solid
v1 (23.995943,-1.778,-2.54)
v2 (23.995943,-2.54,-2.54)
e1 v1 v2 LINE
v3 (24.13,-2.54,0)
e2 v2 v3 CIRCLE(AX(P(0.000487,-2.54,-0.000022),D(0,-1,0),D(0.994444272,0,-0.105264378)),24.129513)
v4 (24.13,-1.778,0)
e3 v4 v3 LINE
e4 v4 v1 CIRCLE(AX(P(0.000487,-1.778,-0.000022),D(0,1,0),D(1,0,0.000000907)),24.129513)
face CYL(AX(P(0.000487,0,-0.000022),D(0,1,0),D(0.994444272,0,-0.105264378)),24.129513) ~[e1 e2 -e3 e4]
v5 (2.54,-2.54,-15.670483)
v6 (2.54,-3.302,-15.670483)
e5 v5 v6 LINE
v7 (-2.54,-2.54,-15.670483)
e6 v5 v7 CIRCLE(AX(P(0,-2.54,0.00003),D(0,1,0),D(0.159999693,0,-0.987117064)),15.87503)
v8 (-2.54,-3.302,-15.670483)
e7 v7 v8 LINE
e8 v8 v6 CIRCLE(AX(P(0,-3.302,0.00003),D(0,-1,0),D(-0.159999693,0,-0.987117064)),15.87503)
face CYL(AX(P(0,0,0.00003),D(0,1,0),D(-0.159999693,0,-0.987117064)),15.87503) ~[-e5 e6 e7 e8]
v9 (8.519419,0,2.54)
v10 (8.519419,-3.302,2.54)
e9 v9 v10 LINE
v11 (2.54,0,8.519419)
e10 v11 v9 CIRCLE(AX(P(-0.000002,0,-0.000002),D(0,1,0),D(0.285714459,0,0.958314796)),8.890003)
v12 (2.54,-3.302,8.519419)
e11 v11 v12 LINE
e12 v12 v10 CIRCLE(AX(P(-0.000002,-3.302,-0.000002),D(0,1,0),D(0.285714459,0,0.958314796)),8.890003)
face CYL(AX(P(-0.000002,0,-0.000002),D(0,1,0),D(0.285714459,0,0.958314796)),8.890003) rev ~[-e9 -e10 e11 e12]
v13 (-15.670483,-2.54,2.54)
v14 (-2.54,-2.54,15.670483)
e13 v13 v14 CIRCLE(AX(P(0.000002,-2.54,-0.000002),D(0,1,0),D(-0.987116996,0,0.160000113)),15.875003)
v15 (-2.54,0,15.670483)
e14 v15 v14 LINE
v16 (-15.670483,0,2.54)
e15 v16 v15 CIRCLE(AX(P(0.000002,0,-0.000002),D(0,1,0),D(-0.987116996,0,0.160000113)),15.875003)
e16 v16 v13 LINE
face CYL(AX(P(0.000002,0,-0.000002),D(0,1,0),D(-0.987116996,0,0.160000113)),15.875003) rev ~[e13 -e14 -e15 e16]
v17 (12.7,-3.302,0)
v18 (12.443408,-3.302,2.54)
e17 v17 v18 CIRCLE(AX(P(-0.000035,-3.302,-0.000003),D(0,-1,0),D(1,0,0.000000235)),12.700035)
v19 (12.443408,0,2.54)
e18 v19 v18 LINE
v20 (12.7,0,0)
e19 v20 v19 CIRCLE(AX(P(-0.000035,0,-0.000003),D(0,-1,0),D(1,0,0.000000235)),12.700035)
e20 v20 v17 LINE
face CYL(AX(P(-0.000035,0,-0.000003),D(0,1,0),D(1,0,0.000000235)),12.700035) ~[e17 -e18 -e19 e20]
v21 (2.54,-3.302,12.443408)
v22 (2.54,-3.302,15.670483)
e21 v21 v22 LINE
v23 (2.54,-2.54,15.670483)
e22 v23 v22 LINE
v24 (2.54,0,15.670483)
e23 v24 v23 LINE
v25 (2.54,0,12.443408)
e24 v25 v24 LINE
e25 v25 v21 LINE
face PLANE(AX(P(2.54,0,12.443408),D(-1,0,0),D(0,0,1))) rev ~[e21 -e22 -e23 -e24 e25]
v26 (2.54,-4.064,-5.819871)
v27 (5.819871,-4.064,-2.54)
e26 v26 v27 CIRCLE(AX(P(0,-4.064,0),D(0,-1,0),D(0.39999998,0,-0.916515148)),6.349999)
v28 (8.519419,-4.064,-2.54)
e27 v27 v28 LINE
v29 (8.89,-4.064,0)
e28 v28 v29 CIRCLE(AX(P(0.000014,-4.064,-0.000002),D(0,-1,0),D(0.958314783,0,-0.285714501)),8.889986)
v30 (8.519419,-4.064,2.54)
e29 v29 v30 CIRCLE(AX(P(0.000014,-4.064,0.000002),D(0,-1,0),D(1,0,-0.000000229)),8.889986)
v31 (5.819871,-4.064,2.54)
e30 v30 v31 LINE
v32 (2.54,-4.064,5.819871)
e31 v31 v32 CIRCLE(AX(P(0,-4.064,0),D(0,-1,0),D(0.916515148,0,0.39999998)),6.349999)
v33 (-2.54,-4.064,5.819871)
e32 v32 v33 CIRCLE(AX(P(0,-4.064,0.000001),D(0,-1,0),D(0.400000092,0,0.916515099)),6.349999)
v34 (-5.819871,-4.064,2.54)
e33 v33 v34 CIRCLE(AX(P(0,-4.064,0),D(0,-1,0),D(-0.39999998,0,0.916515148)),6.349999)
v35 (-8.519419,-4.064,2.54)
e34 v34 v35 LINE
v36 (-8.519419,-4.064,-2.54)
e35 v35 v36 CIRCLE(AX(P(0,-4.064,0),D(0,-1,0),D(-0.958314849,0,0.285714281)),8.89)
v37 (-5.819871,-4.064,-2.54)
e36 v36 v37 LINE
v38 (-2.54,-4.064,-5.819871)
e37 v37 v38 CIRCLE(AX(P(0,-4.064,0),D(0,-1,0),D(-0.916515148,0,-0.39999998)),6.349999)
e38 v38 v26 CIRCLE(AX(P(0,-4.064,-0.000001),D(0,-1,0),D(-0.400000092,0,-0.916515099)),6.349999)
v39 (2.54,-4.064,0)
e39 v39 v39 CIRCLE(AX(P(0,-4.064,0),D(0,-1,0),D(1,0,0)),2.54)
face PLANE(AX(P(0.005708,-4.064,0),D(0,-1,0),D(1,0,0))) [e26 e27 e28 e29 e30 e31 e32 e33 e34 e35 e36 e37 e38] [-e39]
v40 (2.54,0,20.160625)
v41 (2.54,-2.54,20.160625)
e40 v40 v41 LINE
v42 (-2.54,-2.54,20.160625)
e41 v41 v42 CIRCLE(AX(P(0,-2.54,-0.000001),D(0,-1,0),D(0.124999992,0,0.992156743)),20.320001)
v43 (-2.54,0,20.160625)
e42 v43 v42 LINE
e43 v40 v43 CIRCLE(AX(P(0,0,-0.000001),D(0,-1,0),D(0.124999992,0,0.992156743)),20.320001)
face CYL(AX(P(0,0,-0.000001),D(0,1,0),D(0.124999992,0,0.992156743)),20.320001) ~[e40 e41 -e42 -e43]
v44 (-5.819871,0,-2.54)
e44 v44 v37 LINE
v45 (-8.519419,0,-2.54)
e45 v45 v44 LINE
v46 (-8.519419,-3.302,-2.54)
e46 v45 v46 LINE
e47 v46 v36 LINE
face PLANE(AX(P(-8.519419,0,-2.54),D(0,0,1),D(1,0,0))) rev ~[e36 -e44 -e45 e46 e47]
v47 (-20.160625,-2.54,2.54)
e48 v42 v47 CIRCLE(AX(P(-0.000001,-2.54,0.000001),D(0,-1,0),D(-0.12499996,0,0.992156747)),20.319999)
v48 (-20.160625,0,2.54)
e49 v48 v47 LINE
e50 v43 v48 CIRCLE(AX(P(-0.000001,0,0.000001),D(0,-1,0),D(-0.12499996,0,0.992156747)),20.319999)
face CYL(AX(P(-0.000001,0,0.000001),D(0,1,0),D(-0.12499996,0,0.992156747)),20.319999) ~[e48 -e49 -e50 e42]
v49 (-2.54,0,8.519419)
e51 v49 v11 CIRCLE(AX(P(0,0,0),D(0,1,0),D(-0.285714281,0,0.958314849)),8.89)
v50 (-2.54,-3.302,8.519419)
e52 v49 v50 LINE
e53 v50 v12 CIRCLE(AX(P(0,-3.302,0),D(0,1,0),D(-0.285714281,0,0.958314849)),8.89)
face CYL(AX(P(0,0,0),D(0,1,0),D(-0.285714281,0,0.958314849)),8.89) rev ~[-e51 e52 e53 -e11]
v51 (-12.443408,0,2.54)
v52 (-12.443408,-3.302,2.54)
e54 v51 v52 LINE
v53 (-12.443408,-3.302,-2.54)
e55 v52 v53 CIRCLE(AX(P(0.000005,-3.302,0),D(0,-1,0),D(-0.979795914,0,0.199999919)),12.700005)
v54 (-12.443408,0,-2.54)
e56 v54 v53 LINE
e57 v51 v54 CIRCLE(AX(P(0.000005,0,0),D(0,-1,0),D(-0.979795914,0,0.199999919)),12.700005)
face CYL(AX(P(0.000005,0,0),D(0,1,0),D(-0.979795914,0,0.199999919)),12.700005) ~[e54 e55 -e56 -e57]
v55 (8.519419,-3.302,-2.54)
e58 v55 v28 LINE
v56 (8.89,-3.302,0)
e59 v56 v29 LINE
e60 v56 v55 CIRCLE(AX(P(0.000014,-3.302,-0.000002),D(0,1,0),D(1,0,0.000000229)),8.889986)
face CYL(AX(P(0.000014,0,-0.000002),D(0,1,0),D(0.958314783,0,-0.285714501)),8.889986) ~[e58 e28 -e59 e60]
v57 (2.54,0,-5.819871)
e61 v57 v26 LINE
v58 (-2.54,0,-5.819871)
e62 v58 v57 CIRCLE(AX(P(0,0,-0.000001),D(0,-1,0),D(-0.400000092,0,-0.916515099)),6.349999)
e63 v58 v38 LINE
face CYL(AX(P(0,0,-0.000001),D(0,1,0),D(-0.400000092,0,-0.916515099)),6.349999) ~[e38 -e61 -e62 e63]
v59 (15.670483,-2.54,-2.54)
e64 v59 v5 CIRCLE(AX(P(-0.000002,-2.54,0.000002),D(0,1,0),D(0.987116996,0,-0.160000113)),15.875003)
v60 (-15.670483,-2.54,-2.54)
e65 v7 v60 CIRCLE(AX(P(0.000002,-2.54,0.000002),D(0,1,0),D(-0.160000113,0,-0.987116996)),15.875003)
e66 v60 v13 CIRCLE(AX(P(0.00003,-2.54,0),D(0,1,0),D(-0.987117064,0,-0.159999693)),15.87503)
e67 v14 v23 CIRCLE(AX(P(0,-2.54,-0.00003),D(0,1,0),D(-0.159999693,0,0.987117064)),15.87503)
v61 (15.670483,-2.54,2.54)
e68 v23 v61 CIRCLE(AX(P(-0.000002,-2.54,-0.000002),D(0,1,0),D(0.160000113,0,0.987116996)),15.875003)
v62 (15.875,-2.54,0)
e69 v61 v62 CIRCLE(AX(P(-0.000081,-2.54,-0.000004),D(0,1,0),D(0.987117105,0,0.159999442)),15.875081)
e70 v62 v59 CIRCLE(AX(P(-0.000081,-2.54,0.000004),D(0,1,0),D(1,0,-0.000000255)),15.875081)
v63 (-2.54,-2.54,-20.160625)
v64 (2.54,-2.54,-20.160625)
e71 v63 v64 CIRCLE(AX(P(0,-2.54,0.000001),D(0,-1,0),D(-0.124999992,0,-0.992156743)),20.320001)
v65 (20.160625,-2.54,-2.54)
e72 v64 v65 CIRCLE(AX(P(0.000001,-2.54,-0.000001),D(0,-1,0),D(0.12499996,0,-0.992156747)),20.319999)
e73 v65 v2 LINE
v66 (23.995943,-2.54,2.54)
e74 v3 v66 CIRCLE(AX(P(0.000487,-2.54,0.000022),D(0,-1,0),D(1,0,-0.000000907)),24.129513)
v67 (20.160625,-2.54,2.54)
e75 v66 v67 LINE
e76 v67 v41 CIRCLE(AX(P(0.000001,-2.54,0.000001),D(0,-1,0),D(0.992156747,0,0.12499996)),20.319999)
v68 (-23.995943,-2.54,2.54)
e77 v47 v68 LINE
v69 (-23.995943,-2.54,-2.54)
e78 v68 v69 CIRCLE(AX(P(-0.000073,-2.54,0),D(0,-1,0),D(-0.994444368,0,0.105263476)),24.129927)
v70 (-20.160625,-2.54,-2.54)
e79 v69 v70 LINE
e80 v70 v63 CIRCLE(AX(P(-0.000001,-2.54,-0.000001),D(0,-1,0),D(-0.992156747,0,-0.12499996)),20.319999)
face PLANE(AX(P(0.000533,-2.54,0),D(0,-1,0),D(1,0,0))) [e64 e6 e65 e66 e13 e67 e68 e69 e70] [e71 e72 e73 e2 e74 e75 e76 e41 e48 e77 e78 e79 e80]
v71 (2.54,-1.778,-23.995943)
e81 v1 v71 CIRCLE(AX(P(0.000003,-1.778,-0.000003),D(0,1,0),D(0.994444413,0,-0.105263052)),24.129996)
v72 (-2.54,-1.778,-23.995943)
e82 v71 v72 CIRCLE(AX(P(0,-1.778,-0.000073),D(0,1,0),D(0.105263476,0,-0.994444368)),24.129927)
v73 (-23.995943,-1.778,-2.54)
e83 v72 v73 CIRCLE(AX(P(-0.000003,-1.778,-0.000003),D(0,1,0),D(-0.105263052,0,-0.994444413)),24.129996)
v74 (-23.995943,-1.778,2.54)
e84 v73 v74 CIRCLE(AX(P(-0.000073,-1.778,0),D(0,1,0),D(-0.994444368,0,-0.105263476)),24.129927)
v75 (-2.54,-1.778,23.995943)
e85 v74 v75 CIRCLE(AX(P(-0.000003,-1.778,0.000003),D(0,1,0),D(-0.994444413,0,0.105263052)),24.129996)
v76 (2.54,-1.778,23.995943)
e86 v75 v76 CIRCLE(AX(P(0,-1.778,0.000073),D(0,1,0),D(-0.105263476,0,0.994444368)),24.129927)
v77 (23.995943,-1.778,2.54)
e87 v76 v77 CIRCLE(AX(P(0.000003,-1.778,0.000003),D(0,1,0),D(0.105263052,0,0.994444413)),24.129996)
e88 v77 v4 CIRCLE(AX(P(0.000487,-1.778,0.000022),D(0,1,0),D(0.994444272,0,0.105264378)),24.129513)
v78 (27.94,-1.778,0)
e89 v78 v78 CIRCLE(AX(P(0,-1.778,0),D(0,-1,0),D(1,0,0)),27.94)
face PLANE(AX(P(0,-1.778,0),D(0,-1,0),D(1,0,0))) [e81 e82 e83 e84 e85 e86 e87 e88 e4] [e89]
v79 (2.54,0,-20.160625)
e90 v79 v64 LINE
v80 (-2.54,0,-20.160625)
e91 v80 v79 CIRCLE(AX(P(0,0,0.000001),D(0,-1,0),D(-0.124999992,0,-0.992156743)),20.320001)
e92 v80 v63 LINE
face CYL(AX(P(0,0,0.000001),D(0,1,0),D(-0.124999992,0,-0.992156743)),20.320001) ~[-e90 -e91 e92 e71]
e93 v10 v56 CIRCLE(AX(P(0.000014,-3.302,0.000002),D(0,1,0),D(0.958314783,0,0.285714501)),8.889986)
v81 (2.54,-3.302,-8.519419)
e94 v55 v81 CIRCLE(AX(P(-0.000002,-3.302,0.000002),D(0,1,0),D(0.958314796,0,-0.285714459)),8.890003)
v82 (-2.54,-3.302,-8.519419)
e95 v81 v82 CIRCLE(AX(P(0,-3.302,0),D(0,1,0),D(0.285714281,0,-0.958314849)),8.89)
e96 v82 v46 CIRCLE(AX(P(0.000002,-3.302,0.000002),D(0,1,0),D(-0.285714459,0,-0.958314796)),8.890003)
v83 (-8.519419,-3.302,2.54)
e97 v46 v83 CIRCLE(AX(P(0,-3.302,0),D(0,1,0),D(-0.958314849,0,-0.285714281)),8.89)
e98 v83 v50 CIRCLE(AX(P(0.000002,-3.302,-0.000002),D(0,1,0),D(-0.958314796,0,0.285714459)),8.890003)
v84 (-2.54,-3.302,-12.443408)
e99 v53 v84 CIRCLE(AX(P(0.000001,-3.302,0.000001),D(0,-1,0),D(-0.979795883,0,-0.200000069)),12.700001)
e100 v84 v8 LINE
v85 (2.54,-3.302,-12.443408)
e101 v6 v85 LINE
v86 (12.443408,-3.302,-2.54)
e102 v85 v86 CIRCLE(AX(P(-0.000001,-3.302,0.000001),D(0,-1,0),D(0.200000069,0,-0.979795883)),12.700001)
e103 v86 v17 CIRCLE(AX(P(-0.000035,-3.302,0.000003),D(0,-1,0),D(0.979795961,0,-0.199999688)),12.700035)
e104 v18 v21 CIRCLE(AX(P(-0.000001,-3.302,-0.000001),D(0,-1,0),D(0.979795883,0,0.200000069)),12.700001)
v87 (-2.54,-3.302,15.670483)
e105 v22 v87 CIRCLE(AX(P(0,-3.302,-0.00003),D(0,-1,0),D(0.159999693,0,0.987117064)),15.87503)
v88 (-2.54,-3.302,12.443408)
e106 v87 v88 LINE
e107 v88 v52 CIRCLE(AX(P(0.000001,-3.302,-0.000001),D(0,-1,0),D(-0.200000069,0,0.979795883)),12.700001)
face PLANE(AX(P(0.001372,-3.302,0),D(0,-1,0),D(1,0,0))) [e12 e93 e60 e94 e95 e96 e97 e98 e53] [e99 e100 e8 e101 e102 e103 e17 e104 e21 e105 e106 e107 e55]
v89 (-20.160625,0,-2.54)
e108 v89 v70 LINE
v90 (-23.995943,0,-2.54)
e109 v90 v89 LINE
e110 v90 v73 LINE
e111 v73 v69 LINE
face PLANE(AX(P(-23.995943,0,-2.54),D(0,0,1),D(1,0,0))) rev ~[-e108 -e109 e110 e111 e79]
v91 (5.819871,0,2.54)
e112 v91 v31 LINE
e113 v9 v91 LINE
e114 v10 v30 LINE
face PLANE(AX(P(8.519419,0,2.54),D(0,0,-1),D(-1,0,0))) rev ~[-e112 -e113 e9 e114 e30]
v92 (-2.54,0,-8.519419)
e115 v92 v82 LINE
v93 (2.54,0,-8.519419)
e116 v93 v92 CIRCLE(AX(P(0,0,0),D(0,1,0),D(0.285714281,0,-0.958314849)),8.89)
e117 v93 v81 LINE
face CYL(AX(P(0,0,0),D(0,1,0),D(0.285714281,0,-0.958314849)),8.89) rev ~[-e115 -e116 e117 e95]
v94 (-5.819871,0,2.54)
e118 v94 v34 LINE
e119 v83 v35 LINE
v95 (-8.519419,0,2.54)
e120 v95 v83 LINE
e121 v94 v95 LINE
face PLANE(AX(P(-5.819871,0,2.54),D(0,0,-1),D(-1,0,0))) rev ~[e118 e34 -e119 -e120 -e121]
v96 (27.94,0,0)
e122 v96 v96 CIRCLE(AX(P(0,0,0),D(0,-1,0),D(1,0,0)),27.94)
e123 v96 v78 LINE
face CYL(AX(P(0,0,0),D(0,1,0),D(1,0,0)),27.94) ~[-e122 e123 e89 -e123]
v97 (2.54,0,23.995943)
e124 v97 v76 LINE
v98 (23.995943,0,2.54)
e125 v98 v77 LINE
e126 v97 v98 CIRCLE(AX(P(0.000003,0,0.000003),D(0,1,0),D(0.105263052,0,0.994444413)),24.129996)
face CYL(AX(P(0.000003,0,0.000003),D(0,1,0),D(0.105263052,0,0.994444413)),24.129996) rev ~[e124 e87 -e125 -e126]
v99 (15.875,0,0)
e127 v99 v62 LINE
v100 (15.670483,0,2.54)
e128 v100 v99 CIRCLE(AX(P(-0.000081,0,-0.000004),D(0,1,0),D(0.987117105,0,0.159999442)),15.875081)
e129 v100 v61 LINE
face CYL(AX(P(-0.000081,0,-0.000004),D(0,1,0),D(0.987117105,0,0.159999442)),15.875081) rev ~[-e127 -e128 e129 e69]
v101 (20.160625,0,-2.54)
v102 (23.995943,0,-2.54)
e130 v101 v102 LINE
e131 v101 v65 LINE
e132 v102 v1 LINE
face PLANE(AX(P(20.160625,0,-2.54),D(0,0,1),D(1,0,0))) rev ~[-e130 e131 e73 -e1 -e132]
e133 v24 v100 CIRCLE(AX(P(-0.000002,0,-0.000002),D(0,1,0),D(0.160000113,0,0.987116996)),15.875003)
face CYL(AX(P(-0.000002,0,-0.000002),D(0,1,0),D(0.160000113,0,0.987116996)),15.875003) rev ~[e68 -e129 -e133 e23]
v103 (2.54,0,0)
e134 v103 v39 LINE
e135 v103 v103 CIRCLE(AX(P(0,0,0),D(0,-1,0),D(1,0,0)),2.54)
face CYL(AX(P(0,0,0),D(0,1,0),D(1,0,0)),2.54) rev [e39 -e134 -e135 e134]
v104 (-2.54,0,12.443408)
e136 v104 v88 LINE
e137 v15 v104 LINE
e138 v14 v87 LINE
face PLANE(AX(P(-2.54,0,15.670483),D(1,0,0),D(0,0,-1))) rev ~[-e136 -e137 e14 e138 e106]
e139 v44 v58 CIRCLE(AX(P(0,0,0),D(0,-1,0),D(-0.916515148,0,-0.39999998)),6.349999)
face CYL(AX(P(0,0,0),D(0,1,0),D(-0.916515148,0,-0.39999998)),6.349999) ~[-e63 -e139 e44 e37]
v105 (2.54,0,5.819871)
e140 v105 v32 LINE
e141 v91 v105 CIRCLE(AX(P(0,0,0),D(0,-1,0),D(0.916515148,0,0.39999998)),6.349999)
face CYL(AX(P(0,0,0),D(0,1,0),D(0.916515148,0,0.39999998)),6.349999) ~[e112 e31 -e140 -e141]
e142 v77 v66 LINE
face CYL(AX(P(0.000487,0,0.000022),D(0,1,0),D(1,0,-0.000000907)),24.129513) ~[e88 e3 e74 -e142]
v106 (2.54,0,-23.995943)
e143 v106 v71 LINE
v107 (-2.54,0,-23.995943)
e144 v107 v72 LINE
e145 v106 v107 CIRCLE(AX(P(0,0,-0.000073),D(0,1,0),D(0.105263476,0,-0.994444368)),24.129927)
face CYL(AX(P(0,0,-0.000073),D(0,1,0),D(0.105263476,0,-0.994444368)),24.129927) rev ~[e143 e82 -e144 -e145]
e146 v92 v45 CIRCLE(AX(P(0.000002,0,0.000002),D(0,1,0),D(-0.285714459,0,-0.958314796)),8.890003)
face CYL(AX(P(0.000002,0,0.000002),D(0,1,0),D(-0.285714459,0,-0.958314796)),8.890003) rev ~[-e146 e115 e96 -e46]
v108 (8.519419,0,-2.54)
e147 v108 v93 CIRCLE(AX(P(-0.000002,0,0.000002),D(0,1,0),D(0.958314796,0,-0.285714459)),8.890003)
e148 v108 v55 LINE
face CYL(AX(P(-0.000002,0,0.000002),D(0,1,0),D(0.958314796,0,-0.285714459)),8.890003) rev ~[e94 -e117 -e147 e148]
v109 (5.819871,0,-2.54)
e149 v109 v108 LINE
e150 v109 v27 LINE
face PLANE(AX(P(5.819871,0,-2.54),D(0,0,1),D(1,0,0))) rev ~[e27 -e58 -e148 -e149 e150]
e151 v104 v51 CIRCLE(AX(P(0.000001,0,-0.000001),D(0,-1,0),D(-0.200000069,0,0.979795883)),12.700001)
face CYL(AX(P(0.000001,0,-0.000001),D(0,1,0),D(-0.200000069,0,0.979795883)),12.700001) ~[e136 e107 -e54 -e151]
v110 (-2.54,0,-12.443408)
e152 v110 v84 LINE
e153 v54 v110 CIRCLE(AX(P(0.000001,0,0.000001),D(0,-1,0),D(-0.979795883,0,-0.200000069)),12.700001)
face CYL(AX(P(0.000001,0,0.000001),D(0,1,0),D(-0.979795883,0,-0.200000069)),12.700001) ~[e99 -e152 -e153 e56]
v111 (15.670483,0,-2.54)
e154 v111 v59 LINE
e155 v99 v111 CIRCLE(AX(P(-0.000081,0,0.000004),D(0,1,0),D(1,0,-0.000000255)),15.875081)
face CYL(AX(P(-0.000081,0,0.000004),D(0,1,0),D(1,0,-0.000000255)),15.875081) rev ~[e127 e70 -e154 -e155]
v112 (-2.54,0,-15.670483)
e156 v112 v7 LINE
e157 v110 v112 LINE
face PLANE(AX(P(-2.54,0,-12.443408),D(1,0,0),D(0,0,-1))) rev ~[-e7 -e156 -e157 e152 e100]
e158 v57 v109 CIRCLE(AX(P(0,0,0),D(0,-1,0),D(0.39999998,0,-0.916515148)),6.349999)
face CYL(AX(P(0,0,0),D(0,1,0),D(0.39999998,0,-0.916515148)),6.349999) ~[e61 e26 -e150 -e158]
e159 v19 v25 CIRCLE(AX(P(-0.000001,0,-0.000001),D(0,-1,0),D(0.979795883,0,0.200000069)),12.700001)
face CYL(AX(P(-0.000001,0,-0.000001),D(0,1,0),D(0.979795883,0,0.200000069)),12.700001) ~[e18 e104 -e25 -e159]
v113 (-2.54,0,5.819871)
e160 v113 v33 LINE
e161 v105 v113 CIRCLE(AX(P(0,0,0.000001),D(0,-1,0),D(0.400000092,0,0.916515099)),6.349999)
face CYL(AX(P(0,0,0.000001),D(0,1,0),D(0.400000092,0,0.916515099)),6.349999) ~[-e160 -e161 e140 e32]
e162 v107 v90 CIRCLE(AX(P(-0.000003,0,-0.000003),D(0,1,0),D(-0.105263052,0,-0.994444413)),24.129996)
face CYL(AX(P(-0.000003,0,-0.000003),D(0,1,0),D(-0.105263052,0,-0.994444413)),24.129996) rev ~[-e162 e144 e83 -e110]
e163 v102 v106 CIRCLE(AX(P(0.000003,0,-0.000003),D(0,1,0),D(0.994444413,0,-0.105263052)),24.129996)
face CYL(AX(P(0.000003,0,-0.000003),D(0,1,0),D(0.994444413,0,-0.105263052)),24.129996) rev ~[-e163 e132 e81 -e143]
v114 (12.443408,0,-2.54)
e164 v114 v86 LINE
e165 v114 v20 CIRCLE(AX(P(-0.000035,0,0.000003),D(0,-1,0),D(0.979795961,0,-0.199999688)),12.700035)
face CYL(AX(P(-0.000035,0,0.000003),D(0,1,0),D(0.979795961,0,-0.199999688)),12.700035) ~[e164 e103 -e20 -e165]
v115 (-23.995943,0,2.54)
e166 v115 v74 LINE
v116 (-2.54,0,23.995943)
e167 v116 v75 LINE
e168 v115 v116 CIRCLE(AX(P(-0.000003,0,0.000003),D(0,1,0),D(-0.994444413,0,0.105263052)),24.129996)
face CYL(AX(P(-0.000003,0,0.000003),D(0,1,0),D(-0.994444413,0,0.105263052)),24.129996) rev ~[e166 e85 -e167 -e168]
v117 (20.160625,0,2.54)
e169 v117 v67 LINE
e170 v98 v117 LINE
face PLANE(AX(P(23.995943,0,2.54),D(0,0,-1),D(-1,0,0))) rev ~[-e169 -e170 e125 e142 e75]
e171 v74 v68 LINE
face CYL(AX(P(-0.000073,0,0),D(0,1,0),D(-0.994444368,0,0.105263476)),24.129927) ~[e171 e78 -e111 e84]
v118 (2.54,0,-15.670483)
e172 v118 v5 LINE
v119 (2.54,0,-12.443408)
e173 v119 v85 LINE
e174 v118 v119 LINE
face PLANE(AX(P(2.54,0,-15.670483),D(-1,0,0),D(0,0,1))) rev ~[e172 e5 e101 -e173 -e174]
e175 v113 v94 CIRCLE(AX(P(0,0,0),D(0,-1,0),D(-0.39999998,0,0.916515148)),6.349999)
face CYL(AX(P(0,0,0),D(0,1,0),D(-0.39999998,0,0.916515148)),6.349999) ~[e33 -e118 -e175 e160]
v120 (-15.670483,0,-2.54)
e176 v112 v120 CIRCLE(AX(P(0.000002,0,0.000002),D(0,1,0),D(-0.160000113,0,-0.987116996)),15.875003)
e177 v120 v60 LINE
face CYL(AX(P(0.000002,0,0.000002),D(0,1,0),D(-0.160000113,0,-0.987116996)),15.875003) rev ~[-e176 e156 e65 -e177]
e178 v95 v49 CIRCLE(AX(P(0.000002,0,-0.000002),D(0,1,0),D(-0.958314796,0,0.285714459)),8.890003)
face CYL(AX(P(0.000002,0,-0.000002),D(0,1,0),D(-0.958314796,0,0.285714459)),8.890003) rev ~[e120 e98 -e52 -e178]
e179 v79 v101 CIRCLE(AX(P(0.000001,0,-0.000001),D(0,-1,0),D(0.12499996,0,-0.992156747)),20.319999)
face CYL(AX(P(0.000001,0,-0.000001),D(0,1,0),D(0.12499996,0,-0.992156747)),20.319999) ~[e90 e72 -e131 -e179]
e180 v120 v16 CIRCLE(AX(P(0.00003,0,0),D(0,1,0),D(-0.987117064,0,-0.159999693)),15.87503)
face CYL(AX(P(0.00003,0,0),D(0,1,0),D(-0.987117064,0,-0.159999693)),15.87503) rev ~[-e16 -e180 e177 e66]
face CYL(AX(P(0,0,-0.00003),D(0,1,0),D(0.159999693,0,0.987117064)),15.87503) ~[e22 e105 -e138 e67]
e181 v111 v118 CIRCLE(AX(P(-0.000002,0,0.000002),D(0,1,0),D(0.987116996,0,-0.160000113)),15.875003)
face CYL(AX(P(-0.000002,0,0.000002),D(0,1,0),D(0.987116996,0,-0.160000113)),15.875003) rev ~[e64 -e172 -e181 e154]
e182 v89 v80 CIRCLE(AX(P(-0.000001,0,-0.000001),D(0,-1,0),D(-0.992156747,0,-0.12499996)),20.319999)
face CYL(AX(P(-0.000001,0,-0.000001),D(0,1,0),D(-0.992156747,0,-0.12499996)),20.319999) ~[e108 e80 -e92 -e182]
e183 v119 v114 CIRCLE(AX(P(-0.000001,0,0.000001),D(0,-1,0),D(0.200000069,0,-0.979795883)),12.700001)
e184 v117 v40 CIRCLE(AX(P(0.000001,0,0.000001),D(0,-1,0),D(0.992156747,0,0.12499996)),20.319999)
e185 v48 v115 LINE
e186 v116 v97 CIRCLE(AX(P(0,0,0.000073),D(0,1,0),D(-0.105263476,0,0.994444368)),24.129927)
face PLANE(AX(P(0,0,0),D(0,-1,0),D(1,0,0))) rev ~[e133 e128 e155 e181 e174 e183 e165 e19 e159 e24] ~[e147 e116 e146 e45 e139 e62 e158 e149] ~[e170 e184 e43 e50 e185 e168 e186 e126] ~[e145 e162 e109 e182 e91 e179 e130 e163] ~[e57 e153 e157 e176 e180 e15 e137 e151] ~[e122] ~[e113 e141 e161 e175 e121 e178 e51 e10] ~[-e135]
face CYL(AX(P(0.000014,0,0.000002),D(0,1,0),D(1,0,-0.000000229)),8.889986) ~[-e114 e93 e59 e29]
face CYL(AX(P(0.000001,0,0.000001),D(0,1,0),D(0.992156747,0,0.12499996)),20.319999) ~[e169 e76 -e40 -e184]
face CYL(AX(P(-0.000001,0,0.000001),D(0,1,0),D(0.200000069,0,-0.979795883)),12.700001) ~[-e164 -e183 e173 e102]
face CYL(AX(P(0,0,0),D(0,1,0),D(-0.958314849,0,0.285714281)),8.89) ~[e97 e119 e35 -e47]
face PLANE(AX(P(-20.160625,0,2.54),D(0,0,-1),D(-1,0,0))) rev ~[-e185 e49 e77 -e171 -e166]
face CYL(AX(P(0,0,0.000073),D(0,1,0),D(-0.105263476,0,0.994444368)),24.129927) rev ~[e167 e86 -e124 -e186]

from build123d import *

# Parameters (mm, degrees)
F0_R     = 2.54
F1_DEPTH = 4.064
F2_DEPTH = 3.302
F3_DEPTH = 2.54
F0_R_2   = 27.94
F4_DEPTH = 1.778


with BuildPart() as f1:
    # F0 (on Front) → F1 (new body)
    with BuildSketch(Plane.XZ):
        with BuildLine():
            ThreePointArc((5.819871, -2.54), (6.216055, -1.297366), (6.35, 0))
            ThreePointArc((6.35, 0), (6.216055, 1.297366), (5.819871, 2.54))
            ThreePointArc((5.819871, 2.54), (4.490128, 4.490128), (2.54, 5.819871))
            ThreePointArc((2.54, 5.819871), (0, 6.35), (-2.54, 5.819871))
            ThreePointArc((-2.54, 5.819871), (-4.490128, 4.490128), (-5.819871, 2.54))
            ThreePointArc((-5.819871, 2.54), (-6.35, 0), (-5.819871, -2.54))
            ThreePointArc((-5.819871, -2.54), (-4.490128, -4.490128), (-2.54, -5.819871))
            ThreePointArc((-2.54, -5.819871), (0, -6.35), (2.54, -5.819871))
            ThreePointArc((2.54, -5.819871), (4.490128, -4.490128), (5.819871, -2.54))
        make_face()
        Circle(F0_R, mode=Mode.SUBTRACT)
        with BuildLine():
            ThreePointArc((-5.819871, -2.54), (-6.35, 0), (-5.819871, 2.54))
            Line((-5.819871, 2.54), (-8.519419, 2.54))
            ThreePointArc((-8.519419, 2.54), (-8.89, 0), (-8.519419, -2.54))
            Line((-8.519419, -2.54), (-5.819871, -2.54))
        make_face()
        with BuildLine():
            ThreePointArc((5.819871, 2.54), (6.216055, 1.297366), (6.35, 0))
            ThreePointArc((6.35, 0), (6.216055, -1.297366), (5.819871, -2.54))
            Line((5.819871, -2.54), (8.519419, -2.54))
            ThreePointArc((8.519419, -2.54), (8.796867, -1.283446), (8.89, 0))
            ThreePointArc((8.89, 0), (8.796867, 1.283446), (8.519419, 2.54))
            Line((8.519419, 2.54), (5.819871, 2.54))
        make_face()
    extrude(amount=F1_DEPTH)

    # F0 (on Front) → F2 (join)
    with BuildSketch(Plane.XZ):
        with BuildLine():
            ThreePointArc((12.443408, -2.54), (12.635689, -1.276464), (12.7, 0))
            ThreePointArc((12.7, 0), (12.635689, 1.276464), (12.443408, 2.54))
            ThreePointArc((12.443408, 2.54), (8.980256, 8.980256), (2.54, 12.443408))
            ThreePointArc((2.54, 12.443408), (0, 12.7), (-2.54, 12.443408))
            ThreePointArc((-2.54, 12.443408), (-8.980256, 8.980256), (-12.443408, 2.54))
            ThreePointArc((-12.443408, 2.54), (-12.7, 0), (-12.443408, -2.54))
            ThreePointArc((-12.443408, -2.54), (-8.980256, -8.980256), (-2.54, -12.443408))
            ThreePointArc((-2.54, -12.443408), (0, -12.7), (2.54, -12.443408))
            ThreePointArc((2.54, -12.443408), (8.980256, -8.980256), (12.443408, -2.54))
        make_face()
        with BuildLine():
            ThreePointArc((2.54, 8.519419), (6.286179, 6.286179), (8.519419, 2.54))
            ThreePointArc((8.519419, 2.54), (8.796867, 1.283446), (8.89, 0))
            ThreePointArc((8.89, 0), (8.796867, -1.283446), (8.519419, -2.54))
            ThreePointArc((8.519419, -2.54), (6.286179, -6.286179), (2.54, -8.519419))
            ThreePointArc((2.54, -8.519419), (0, -8.89), (-2.54, -8.519419))
            ThreePointArc((-2.54, -8.519419), (-6.286179, -6.286179), (-8.519419, -2.54))
            ThreePointArc((-8.519419, -2.54), (-8.89, 0), (-8.519419, 2.54))
            ThreePointArc((-8.519419, 2.54), (-6.286179, 6.286179), (-2.54, 8.519419))
            ThreePointArc((-2.54, 8.519419), (0, 8.89), (2.54, 8.519419))
        make_face(mode=Mode.SUBTRACT)
        with BuildLine():
            Line((2.54, -15.670483), (2.54, -12.443408))
            ThreePointArc((2.54, -12.443408), (0, -12.7), (-2.54, -12.443408))
            Line((-2.54, -12.443408), (-2.54, -15.670483))
            ThreePointArc((-2.54, -15.670483), (0, -15.875), (2.54, -15.670483))
        make_face()
        with BuildLine():
            ThreePointArc((-2.54, 12.443408), (0, 12.7), (2.54, 12.443408))
            Line((2.54, 12.443408), (2.54, 15.670483))
            ThreePointArc((2.54, 15.670483), (0, 15.875), (-2.54, 15.670483))
            Line((-2.54, 15.670483), (-2.54, 12.443408))
        make_face()
    extrude(amount=F2_DEPTH)

    # F0 (on Front) → F3 (join)
    with BuildSketch(Plane.XZ):
        with BuildLine():
            ThreePointArc((20.160625, -2.54), (20.280117, -1.272498), (20.32, 0))
            ThreePointArc((20.32, 0), (20.280117, 1.272498), (20.160625, 2.54))
            ThreePointArc((20.160625, 2.54), (14.36841, 14.36841), (2.54, 20.160625))
            ThreePointArc((2.54, 20.160625), (0, 20.32), (-2.54, 20.160625))
            ThreePointArc((-2.54, 20.160625), (-14.36841, 14.36841), (-20.160625, 2.54))
            ThreePointArc((-20.160625, 2.54), (-20.32, 0), (-20.160625, -2.54))
            ThreePointArc((-20.160625, -2.54), (-14.36841, -14.36841), (-2.54, -20.160625))
            ThreePointArc((-2.54, -20.160625), (0, -20.32), (2.54, -20.160625))
            ThreePointArc((2.54, -20.160625), (14.36841, -14.36841), (20.160625, -2.54))
        make_face()
        with BuildLine():
            ThreePointArc((2.54, 15.670483), (11.22532, 11.22532), (15.670483, 2.54))
            ThreePointArc((15.670483, 2.54), (15.823788, 1.27411), (15.875, 0))
            ThreePointArc((15.875, 0), (15.823788, -1.27411), (15.670483, -2.54))
            ThreePointArc((15.670483, -2.54), (11.22532, -11.22532), (2.54, -15.670483))
            ThreePointArc((2.54, -15.670483), (0, -15.875), (-2.54, -15.670483))
            ThreePointArc((-2.54, -15.670483), (-11.22532, -11.22532), (-15.670483, -2.54))
            ThreePointArc((-15.670483, -2.54), (-15.875, 0), (-15.670483, 2.54))
            ThreePointArc((-15.670483, 2.54), (-11.22532, 11.22532), (-2.54, 15.670483))
            ThreePointArc((-2.54, 15.670483), (0, 15.875), (2.54, 15.670483))
        make_face(mode=Mode.SUBTRACT)
        with BuildLine():
            ThreePointArc((20.160625, 2.54), (20.280117, 1.272498), (20.32, 0))
            ThreePointArc((20.32, 0), (20.280117, -1.272498), (20.160625, -2.54))
            Line((20.160625, -2.54), (23.995943, -2.54))
            ThreePointArc((23.995943, -2.54), (24.096463, -1.271768), (24.13, 0))
            ThreePointArc((24.13, 0), (24.096463, 1.271768), (23.995943, 2.54))
            Line((23.995943, 2.54), (20.160625, 2.54))
        make_face()
        with BuildLine():
            ThreePointArc((-20.160625, -2.54), (-20.32, 0), (-20.160625, 2.54))
            Line((-20.160625, 2.54), (-23.995943, 2.54))
            ThreePointArc((-23.995943, 2.54), (-24.13, 0), (-23.995943, -2.54))
            Line((-23.995943, -2.54), (-20.160625, -2.54))
        make_face()
    extrude(amount=F3_DEPTH)

    # F0 (on Front) → F4 (join)
    with BuildSketch(Plane.XZ):
        Circle(F0_R_2)
        with BuildLine():
            ThreePointArc((2.54, 23.995943), (17.062487, 17.062487), (23.995943, 2.54))
            ThreePointArc((23.995943, 2.54), (24.096463, 1.271768), (24.13, 0))
            ThreePointArc((24.13, 0), (24.096463, -1.271768), (23.995943, -2.54))
            ThreePointArc((23.995943, -2.54), (17.062487, -17.062487), (2.54, -23.995943))
            ThreePointArc((2.54, -23.995943), (0, -24.13), (-2.54, -23.995943))
            ThreePointArc((-2.54, -23.995943), (-17.062487, -17.062487), (-23.995943, -2.54))
            ThreePointArc((-23.995943, -2.54), (-24.13, 0), (-23.995943, 2.54))
            ThreePointArc((-23.995943, 2.54), (-17.062487, 17.062487), (-2.54, 23.995943))
            ThreePointArc((-2.54, 23.995943), (0, 24.13), (2.54, 23.995943))
        make_face(mode=Mode.SUBTRACT)
    extrude(amount=F4_DEPTH)


solid = f1.part
